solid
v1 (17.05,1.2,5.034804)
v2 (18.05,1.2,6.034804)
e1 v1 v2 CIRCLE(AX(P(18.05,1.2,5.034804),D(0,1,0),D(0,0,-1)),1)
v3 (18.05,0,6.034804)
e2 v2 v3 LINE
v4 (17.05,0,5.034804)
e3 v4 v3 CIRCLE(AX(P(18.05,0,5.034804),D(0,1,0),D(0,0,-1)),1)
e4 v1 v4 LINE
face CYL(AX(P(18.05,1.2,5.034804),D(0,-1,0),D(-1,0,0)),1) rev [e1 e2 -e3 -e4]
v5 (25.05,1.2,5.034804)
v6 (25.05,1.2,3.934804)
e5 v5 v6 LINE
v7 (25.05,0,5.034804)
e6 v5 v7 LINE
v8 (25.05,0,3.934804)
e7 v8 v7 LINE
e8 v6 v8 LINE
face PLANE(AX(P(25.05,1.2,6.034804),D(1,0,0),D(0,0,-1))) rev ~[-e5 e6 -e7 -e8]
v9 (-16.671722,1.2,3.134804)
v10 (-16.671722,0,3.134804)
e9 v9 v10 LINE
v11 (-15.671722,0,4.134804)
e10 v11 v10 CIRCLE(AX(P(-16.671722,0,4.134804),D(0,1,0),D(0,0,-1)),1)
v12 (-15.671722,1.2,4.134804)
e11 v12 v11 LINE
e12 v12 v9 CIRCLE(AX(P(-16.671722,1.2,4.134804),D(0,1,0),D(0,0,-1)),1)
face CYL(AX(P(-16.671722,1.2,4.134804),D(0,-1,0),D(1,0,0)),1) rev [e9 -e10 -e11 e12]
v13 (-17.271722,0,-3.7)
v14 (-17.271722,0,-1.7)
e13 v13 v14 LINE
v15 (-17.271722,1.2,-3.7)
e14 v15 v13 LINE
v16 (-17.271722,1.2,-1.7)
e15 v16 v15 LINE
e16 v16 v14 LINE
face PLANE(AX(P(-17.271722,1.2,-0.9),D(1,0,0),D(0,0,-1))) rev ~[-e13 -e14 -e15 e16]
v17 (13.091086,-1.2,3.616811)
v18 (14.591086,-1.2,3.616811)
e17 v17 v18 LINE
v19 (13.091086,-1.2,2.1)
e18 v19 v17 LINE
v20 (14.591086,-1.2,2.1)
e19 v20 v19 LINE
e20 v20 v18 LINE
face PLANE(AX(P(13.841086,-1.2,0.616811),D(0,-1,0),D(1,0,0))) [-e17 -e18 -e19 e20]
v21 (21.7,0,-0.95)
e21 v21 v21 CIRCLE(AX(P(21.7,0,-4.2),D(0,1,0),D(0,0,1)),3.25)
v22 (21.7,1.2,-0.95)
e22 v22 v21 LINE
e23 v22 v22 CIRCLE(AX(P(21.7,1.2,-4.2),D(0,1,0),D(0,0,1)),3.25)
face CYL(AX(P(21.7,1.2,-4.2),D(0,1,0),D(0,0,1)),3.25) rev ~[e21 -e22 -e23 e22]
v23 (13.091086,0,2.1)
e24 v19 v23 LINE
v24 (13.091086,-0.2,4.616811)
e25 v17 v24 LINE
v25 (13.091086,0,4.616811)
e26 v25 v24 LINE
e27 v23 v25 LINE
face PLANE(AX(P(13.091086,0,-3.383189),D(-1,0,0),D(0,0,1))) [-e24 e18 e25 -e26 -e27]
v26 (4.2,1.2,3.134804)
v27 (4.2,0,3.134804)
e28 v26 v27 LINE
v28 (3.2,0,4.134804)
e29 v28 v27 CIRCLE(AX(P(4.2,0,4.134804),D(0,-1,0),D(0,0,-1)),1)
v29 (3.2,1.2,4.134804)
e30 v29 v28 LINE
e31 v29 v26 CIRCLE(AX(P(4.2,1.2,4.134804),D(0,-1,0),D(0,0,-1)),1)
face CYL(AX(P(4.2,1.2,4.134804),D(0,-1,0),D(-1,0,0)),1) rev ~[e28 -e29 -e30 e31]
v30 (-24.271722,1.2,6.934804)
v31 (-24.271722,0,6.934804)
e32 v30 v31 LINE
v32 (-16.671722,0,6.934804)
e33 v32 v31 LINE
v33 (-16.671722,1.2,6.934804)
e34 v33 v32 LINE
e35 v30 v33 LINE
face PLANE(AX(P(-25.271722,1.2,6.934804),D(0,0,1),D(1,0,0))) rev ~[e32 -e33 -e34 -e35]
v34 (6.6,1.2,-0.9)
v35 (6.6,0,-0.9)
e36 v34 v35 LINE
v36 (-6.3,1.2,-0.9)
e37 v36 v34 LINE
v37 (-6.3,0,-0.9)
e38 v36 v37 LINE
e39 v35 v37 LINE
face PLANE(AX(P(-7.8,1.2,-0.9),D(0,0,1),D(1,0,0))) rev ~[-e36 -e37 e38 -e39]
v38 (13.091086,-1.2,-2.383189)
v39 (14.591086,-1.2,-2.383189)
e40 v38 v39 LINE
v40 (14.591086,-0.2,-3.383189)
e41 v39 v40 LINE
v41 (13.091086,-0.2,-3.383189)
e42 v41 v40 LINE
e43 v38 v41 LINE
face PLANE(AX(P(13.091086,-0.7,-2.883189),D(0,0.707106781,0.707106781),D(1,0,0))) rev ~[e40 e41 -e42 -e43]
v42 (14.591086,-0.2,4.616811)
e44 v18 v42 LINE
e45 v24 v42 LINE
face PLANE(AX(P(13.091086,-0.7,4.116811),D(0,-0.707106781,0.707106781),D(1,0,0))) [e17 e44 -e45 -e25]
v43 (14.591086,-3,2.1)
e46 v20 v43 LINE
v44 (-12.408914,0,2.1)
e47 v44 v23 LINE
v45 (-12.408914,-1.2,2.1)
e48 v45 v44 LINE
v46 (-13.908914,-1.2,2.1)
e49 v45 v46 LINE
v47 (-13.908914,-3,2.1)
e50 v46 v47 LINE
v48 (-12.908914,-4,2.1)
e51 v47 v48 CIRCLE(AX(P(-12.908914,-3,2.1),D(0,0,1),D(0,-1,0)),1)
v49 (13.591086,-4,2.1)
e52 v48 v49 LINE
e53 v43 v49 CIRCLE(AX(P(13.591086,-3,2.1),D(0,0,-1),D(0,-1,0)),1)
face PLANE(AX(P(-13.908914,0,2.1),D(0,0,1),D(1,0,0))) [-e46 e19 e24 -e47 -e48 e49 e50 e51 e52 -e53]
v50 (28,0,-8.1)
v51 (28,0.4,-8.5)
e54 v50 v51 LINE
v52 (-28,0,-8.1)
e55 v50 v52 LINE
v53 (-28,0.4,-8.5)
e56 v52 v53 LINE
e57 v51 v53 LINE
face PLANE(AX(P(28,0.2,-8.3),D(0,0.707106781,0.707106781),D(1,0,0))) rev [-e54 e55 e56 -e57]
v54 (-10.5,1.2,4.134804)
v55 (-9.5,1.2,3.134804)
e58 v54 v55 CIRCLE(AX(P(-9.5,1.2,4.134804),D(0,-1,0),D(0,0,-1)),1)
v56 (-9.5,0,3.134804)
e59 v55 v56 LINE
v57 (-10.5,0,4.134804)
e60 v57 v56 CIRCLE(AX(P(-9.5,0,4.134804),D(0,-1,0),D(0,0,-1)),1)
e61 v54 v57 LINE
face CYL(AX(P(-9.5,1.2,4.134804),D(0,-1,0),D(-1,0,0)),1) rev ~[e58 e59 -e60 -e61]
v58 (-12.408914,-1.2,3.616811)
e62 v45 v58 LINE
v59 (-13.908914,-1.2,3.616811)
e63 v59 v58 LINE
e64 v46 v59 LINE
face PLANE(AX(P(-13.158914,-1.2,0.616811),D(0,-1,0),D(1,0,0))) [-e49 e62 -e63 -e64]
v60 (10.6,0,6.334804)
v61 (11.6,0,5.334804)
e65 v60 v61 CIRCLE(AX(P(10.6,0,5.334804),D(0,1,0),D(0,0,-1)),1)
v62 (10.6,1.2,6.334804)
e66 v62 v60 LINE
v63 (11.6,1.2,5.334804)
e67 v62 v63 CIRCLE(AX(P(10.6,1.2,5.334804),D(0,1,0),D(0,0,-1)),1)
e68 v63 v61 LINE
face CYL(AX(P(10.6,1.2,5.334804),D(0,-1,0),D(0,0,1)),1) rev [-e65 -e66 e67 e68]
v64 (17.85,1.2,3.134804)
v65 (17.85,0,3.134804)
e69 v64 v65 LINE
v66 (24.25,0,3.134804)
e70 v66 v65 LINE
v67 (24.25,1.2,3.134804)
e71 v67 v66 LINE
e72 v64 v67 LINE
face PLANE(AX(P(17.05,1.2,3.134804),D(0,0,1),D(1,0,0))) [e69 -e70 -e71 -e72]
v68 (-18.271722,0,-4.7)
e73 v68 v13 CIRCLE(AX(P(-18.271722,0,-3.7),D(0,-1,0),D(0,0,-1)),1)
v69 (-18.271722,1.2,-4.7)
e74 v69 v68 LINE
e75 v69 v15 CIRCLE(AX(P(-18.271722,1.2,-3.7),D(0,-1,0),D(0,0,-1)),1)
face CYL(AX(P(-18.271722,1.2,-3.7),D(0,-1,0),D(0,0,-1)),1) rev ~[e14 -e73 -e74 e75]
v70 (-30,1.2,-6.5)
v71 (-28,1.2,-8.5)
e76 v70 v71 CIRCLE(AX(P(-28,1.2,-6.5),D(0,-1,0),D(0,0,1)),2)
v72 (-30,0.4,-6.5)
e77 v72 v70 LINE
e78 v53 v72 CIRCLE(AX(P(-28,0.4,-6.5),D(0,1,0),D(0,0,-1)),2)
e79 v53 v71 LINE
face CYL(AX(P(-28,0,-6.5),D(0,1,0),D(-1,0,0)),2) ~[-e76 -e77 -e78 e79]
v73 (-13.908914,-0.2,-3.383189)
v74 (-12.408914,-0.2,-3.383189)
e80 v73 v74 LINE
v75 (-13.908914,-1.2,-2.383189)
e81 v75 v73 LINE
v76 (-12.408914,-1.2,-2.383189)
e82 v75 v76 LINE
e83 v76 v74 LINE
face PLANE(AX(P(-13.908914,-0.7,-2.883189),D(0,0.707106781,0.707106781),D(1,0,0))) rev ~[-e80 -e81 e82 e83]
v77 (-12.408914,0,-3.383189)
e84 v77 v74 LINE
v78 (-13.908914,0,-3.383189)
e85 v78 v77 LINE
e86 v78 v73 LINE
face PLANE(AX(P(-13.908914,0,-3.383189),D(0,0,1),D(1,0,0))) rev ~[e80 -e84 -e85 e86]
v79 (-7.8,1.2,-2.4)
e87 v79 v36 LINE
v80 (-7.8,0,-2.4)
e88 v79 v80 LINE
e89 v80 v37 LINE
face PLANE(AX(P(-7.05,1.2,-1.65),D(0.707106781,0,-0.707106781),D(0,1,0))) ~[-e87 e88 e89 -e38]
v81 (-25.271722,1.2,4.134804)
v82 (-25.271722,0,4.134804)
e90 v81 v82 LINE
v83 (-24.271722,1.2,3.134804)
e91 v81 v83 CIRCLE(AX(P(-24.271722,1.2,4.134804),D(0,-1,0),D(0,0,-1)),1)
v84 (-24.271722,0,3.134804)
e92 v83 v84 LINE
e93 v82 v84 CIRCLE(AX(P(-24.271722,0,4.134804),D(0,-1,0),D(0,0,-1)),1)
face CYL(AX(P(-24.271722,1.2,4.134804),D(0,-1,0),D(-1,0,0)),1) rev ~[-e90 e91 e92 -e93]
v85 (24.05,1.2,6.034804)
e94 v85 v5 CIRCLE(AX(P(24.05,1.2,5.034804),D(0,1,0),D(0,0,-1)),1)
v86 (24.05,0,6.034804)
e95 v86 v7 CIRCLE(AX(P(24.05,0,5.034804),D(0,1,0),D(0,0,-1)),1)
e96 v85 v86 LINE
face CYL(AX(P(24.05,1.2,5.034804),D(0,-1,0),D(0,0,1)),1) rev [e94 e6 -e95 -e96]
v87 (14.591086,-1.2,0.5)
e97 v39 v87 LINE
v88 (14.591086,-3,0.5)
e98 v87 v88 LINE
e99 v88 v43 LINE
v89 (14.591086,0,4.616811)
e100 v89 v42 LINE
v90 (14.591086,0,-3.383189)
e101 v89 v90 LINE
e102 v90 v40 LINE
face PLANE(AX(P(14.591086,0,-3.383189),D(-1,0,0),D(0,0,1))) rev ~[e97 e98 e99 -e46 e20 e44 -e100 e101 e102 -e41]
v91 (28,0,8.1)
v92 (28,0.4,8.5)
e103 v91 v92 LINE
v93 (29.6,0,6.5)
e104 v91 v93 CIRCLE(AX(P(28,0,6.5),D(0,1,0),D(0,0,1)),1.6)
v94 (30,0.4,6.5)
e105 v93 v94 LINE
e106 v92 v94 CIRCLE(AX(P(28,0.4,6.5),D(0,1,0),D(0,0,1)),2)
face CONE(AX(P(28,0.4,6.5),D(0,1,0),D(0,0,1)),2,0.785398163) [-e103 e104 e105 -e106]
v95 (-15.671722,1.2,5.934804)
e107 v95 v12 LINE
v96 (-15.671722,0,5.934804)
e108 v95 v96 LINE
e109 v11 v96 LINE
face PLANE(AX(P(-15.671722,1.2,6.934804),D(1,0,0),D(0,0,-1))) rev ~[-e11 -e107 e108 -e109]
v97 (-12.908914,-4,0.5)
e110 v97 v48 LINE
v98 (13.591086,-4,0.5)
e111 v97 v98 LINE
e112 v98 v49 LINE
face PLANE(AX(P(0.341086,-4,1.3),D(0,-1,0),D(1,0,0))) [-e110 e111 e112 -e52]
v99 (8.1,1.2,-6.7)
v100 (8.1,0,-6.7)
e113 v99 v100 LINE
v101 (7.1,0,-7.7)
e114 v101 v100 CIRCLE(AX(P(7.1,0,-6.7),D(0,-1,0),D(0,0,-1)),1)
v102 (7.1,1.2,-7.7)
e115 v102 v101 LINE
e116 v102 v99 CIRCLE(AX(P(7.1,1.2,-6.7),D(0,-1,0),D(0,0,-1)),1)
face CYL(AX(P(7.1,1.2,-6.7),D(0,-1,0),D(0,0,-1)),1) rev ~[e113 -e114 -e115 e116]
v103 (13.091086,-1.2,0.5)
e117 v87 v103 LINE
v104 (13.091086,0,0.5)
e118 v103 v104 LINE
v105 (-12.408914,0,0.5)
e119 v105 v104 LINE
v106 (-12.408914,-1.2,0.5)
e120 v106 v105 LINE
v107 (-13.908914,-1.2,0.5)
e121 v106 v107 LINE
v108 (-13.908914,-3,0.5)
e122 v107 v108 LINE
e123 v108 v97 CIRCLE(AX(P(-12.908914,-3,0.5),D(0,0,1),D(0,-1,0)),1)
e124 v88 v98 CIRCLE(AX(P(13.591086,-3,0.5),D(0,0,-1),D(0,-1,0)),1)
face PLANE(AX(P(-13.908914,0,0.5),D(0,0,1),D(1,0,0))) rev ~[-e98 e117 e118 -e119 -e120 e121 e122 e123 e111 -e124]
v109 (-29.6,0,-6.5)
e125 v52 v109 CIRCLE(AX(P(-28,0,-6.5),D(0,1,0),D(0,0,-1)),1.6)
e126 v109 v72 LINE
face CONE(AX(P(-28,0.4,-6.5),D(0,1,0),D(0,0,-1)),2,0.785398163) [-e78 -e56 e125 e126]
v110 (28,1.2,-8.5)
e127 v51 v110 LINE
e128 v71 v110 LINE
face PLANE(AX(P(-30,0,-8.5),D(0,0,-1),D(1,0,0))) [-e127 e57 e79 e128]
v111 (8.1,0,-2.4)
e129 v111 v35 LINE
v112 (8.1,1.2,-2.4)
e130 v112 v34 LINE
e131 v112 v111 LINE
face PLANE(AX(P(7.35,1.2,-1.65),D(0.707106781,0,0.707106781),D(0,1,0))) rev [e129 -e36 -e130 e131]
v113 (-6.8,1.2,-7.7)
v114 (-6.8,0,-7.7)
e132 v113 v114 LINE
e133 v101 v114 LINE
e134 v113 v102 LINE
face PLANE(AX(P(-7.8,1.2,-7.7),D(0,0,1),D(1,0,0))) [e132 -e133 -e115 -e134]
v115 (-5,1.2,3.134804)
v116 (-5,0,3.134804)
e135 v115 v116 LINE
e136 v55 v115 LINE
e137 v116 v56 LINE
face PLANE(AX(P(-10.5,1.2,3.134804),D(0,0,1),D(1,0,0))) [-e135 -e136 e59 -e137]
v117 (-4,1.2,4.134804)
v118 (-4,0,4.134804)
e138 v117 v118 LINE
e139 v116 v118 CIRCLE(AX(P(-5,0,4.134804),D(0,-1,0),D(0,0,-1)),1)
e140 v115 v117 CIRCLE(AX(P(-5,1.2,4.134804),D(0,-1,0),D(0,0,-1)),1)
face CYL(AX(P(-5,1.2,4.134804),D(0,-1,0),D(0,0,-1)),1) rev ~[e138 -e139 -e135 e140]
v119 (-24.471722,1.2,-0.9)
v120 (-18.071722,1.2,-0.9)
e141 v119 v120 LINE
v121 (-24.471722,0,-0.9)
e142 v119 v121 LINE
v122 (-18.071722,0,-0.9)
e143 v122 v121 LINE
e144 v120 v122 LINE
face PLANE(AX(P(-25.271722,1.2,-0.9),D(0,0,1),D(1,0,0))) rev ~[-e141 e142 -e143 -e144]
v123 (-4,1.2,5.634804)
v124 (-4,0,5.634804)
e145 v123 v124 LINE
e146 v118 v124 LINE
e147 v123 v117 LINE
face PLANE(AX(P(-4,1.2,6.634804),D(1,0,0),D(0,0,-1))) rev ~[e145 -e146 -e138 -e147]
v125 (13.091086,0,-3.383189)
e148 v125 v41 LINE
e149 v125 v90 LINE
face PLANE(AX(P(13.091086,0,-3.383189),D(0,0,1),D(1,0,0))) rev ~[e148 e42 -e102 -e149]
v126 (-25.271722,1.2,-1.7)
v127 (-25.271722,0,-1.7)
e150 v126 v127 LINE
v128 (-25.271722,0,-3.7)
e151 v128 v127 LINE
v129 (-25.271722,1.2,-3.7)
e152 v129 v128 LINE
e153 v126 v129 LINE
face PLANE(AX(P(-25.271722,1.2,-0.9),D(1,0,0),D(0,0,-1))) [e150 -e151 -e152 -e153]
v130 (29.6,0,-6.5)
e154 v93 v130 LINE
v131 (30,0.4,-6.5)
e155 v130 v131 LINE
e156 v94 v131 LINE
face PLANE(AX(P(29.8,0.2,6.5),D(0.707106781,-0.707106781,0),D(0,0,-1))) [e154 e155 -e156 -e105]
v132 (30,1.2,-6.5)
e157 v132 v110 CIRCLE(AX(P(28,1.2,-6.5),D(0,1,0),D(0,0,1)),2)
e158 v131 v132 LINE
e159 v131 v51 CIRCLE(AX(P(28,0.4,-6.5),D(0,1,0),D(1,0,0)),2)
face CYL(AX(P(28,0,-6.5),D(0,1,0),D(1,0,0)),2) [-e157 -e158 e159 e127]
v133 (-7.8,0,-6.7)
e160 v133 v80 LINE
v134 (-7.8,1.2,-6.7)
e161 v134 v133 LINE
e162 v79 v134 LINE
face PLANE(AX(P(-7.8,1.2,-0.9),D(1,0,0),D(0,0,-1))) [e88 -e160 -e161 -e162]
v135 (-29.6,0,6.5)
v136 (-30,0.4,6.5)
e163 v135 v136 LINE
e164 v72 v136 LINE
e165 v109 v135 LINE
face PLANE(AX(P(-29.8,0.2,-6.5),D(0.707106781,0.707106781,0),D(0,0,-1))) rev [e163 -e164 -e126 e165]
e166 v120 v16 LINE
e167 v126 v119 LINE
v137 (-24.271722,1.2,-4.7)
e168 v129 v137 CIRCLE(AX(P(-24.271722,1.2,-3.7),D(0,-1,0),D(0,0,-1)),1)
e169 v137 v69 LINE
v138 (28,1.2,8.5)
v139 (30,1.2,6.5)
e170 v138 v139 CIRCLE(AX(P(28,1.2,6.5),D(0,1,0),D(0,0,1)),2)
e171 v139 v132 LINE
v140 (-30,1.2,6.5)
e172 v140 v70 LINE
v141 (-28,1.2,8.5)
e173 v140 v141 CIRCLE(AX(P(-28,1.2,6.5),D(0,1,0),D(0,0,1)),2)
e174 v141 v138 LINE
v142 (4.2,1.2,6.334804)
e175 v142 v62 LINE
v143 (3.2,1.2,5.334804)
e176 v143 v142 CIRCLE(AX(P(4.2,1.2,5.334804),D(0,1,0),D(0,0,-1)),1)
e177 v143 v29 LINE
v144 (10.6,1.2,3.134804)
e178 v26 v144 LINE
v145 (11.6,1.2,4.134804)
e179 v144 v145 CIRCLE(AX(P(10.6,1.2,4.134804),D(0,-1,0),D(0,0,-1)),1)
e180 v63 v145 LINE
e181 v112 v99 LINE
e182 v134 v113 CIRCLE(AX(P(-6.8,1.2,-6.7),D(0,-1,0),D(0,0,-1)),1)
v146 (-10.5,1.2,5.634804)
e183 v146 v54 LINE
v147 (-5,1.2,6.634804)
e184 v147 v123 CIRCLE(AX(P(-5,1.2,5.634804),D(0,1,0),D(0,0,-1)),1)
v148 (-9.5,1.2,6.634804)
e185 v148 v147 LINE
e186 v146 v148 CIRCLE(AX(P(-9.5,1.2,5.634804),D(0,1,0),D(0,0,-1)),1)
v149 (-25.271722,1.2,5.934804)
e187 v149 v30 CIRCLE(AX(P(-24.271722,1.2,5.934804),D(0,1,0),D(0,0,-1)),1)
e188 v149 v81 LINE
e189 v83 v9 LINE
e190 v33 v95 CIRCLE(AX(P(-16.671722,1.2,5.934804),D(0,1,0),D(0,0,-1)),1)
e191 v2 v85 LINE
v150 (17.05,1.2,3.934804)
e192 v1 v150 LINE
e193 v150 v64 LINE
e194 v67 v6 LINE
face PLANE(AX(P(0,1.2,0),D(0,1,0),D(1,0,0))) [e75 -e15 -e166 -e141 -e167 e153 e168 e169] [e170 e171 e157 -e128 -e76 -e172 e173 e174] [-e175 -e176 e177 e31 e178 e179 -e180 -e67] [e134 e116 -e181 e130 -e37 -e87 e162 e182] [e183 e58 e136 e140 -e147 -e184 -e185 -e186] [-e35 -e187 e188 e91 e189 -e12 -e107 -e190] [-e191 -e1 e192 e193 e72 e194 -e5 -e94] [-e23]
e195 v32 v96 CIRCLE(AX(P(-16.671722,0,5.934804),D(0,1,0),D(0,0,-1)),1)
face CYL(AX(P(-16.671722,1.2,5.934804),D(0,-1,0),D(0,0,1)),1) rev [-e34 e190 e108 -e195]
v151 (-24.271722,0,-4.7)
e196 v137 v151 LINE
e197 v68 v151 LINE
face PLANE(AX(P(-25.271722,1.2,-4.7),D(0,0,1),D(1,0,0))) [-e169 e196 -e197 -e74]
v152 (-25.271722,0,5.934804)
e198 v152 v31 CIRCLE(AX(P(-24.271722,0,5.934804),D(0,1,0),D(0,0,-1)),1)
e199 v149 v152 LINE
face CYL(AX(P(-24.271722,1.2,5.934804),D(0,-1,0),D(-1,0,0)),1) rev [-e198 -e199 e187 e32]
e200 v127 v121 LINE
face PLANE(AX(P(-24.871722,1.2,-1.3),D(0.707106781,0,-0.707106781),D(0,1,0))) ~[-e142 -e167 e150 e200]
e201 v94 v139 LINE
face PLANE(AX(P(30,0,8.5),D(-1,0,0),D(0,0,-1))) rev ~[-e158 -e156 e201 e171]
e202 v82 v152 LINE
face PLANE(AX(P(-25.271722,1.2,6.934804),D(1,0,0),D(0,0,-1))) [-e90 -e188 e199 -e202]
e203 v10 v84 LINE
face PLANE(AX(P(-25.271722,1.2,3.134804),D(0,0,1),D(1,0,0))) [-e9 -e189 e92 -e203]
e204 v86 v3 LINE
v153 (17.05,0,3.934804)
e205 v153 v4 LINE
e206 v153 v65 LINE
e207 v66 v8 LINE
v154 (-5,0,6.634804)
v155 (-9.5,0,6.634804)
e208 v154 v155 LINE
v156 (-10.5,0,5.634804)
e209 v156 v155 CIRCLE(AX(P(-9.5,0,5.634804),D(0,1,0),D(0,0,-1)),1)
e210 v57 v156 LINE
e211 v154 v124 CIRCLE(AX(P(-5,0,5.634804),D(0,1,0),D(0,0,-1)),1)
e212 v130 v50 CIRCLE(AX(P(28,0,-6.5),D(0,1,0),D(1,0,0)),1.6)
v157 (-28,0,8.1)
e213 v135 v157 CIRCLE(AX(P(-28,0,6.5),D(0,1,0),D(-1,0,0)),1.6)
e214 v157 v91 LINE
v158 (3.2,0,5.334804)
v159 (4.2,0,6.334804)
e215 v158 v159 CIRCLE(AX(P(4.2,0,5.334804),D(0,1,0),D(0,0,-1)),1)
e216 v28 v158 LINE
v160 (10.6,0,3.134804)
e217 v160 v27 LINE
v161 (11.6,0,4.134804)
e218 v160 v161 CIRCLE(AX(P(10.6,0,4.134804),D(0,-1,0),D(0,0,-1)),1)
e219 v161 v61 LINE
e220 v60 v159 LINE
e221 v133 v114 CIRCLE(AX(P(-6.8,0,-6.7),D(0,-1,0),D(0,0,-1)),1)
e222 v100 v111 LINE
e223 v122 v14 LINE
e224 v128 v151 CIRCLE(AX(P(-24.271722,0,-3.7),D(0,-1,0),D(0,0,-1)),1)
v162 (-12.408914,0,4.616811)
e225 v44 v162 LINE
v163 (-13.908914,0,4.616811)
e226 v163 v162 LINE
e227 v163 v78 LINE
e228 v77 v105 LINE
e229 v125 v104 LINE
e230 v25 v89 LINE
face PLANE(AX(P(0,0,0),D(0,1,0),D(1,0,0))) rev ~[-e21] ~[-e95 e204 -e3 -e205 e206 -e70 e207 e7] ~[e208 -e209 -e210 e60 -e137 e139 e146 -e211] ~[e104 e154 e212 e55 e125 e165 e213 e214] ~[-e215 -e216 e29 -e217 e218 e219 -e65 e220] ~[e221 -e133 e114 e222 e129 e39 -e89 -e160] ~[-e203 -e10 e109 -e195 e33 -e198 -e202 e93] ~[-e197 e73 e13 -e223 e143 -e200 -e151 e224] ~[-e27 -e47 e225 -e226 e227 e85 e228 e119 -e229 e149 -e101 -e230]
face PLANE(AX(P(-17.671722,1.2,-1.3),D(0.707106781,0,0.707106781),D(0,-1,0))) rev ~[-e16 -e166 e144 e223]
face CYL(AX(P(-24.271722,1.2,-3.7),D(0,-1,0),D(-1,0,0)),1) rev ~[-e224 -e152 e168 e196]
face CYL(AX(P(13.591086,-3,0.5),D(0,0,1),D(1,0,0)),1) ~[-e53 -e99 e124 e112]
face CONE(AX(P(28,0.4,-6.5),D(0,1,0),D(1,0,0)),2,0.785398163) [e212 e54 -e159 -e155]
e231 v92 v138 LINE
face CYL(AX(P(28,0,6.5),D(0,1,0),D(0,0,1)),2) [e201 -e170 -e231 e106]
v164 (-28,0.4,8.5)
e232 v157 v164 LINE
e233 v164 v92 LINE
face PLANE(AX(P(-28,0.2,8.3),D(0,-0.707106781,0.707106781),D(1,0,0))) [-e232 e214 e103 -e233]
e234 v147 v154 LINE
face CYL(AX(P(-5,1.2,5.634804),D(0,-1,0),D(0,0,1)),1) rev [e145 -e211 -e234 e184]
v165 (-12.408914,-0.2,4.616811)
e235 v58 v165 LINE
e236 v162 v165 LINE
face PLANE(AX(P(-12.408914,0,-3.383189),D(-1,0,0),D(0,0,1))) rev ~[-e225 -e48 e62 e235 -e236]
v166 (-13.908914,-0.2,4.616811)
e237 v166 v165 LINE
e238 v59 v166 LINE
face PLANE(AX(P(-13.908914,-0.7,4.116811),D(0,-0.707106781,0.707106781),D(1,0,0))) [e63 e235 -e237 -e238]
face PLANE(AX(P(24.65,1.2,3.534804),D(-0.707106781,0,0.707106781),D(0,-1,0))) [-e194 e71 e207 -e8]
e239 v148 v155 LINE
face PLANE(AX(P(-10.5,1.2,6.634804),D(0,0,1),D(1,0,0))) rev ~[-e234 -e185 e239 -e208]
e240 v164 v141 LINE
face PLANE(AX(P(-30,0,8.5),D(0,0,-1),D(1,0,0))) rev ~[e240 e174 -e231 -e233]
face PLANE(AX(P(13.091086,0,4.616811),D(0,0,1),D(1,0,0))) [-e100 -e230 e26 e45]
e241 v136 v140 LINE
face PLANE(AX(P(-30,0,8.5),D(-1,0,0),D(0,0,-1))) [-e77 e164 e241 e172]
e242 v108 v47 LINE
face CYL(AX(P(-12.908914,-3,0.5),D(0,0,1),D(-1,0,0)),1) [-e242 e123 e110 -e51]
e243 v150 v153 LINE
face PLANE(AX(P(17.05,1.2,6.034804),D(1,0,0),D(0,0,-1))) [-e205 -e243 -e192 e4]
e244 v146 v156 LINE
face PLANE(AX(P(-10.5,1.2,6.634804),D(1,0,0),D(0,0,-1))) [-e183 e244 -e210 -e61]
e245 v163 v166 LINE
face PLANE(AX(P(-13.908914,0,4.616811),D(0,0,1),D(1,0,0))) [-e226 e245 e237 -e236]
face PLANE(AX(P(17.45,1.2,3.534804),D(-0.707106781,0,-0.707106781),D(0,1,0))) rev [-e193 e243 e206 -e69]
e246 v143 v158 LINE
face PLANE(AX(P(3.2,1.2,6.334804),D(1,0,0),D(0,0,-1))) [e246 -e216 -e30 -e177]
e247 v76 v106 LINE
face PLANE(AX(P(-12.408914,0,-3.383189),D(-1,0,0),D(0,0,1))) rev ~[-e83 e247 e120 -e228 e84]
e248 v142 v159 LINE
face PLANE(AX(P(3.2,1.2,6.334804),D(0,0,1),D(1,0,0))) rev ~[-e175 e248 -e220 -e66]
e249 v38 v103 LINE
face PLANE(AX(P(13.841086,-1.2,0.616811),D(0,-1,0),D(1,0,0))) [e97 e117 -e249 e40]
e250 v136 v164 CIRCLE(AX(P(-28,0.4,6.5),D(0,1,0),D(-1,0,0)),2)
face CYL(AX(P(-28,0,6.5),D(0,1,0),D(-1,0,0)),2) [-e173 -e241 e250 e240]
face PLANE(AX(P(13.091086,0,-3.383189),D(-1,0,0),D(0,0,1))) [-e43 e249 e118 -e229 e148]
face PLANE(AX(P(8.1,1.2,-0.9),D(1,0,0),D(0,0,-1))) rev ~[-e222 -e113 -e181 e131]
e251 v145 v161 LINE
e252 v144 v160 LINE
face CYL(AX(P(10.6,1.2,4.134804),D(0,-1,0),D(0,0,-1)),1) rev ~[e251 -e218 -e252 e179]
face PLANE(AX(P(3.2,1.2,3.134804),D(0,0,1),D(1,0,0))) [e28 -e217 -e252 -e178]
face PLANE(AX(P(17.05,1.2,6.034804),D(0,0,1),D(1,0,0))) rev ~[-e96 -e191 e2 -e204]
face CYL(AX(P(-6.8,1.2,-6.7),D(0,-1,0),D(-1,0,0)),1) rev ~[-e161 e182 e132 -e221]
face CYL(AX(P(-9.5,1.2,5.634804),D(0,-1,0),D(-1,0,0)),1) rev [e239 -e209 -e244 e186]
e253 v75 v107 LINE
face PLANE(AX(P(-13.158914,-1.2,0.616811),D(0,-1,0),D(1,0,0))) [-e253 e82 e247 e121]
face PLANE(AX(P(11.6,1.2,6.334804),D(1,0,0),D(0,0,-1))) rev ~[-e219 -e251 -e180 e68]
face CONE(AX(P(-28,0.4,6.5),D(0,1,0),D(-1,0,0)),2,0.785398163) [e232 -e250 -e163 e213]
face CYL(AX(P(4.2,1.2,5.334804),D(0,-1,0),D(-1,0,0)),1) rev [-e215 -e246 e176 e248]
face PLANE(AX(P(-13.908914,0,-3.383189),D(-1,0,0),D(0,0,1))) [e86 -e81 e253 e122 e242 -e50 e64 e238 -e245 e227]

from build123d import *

# Parameters (mm, degrees)
SKETCH_1_W          = 60
SKETCH_1_H          = 17
EXTRUDE_1_DEPTH     = 1.2
CUT_EXTRUDE_1_REACH = 33.204
SKETCH_4_R          = 3.25
SKETCH_4_W          = 8
SKETCH_4_H          = 3.8
SKETCH_4_W_2        = 15.9
SKETCH_4_H_2        = 6.8
SKETCH_4_H_3        = 2.9
SKETCH_4_W_3        = 8.4
SKETCH_4_H_4        = 3.2
SKETCH_4_W_4        = 6.5
SKETCH_4_H_5        = 3.5
SKETCH_4_W_5        = 9.6
FILLET_2_R          = 1
CHAMFER_1_SIZE      = 0.8
SKETCH_5_W          = 1.5
SKETCH_5_H          = 8
EXTRUDE_2_DEPTH     = 1.2
SKETCH_6_W          = 28.5
SKETCH_6_H          = 1.6
EXTRUDE_3_DEPTH     = 4
FILLET_3_R          = 1
CHAMFER_2_SIZE      = 1
FILLET_4_R          = 2
CHAMFER_5_SIZE      = 0.4
CHAMFER_6_SIZE      = 1.5


with BuildPart() as part:
    # 草图1 → 凸台-拉伸1 (new body)
    with BuildSketch(Plane(origin=(0, 0, 0), x_dir=(1, 0, 0), z_dir=(0, 1, 0))):
        Rectangle(SKETCH_1_W, SKETCH_1_H)
    extrude(amount=EXTRUDE_1_DEPTH)

    # 草图4 → 切除-拉伸1 (cut, up to next)
    with BuildSketch(Plane(origin=(0, 1.2, 0), x_dir=(1, 0, 0), z_dir=(0, 1, 0)), mode=Mode.PRIVATE) as cut_extrude_1_sk1:
        with Locations(Location((21.7, 4.2, 0), (0, 0, 270))):
            Circle(SKETCH_4_R)
    cut_extrude_1_tool1 = extrude(cut_extrude_1_sk1.sketch, amount=-CUT_EXTRUDE_1_REACH, mode=Mode.PRIVATE) & part.part
    # 草图4 → 切除-拉伸1 (cut, up to next)
    with BuildSketch(Plane(origin=(0, 1.2, 0), x_dir=(1, 0, 0), z_dir=(0, 1, 0)), mode=Mode.PRIVATE) as cut_extrude_1_sk2:
        with Locations((-21.271722325, 2.8)):
            Rectangle(SKETCH_4_W, SKETCH_4_H)
    cut_extrude_1_tool2 = extrude(cut_extrude_1_sk2.sketch, amount=-CUT_EXTRUDE_1_REACH, mode=Mode.PRIVATE) & part.part
    # 草图4 → 切除-拉伸1 (cut, up to next)
    with BuildSketch(Plane(origin=(0, 1.2, 0), x_dir=(1, 0, 0), z_dir=(0, 1, 0)), mode=Mode.PRIVATE) as cut_extrude_1_sk3:
        with Locations((0.15, 4.3)):
            Rectangle(SKETCH_4_W_2, SKETCH_4_H_2)
    cut_extrude_1_tool3 = extrude(cut_extrude_1_sk3.sketch, amount=-CUT_EXTRUDE_1_REACH, mode=Mode.PRIVATE) & part.part
    # 草图4 → 切除-拉伸1 (cut, up to next)
    with BuildSketch(Plane(origin=(0, 1.2, 0), x_dir=(1, 0, 0), z_dir=(0, 1, 0)), mode=Mode.PRIVATE) as cut_extrude_1_sk4:
        with Locations((21.05, -4.584803861)):
            Rectangle(SKETCH_4_W, SKETCH_4_H_3)
    cut_extrude_1_tool4 = extrude(cut_extrude_1_sk4.sketch, amount=-CUT_EXTRUDE_1_REACH, mode=Mode.PRIVATE) & part.part
    # 草图4 → 切除-拉伸1 (cut, up to next)
    with BuildSketch(Plane(origin=(0, 1.2, 0), x_dir=(1, 0, 0), z_dir=(0, 1, 0)), mode=Mode.PRIVATE) as cut_extrude_1_sk5:
        with Locations((7.4, -4.734803861)):
            Rectangle(SKETCH_4_W_3, SKETCH_4_H_4)
    cut_extrude_1_tool5 = extrude(cut_extrude_1_sk5.sketch, amount=-CUT_EXTRUDE_1_REACH, mode=Mode.PRIVATE) & part.part
    # 草图4 → 切除-拉伸1 (cut, up to next)
    with BuildSketch(Plane(origin=(0, 1.2, 0), x_dir=(1, 0, 0), z_dir=(0, 1, 0)), mode=Mode.PRIVATE) as cut_extrude_1_sk6:
        with Locations((-7.25, -4.884803861)):
            Rectangle(SKETCH_4_W_4, SKETCH_4_H_5)
    cut_extrude_1_tool6 = extrude(cut_extrude_1_sk6.sketch, amount=-CUT_EXTRUDE_1_REACH, mode=Mode.PRIVATE) & part.part
    # 草图4 → 切除-拉伸1 (cut, up to next)
    with BuildSketch(Plane(origin=(0, 1.2, 0), x_dir=(1, 0, 0), z_dir=(0, 1, 0)), mode=Mode.PRIVATE) as cut_extrude_1_sk7:
        with Locations((-20.471722325, -5.034803861)):
            Rectangle(SKETCH_4_W_5, SKETCH_4_H)
    cut_extrude_1_tool7 = extrude(cut_extrude_1_sk7.sketch, amount=-CUT_EXTRUDE_1_REACH, mode=Mode.PRIVATE) & part.part
    add(cut_extrude_1_tool1.solids().sort_by_distance((21.7, 1.2, -4.2))[0], mode=Mode.SUBTRACT)
    add(cut_extrude_1_tool2.solids().sort_by_distance((-21.271722, 1.2, -2.8))[0], mode=Mode.SUBTRACT)
    add(cut_extrude_1_tool3.solids().sort_by_distance((0.15, 1.2, -4.3))[0], mode=Mode.SUBTRACT)
    add(cut_extrude_1_tool4.solids().sort_by_distance((21.05, 1.2, 4.584804))[0], mode=Mode.SUBTRACT)
    add(cut_extrude_1_tool5.solids().sort_by_distance((7.4, 1.2, 4.734804))[0], mode=Mode.SUBTRACT)
    add(cut_extrude_1_tool6.solids().sort_by_distance((-7.25, 1.2, 4.884804))[0], mode=Mode.SUBTRACT)
    add(cut_extrude_1_tool7.solids().sort_by_distance((-20.471722, 1.2, 5.034804))[0], mode=Mode.SUBTRACT)

    # 圆角2
    fillet_2_edges = [part.edges().sort_by_distance(p)[0] for p in [
        (-10.5, 0.6, 6.634803861),
        (-10.5, 0.6, 3.134803861),
        (-4, 0.6, 3.134803861),
        (-4, 0.6, 6.634803861),
        (3.2, 0.6, 6.334803861),
        (3.2, 0.6, 3.134803861),
        (11.6, 0.6, 3.134803861),
        (11.6, 0.6, 6.334803861),
        (17.05, 0.6, 6.034803861),
        (25.05, 0.6, 6.034803861),
        (-7.8, 0.6, -7.7),
        (8.1, 0.6, -7.7),
        (-25.271722325, 0.6, 6.934803861),
        (-25.271722325, 0.6, 3.134803861),
        (-15.671722325, 0.6, 3.134803861),
        (-15.671722325, 0.6, 6.934803861),
        (-25.271722325, 0.6, -4.7),
        (-17.271722325, 0.6, -4.7),
    ]]
    fillet(fillet_2_edges, radius=FILLET_2_R)

    # 倒角1
    chamfer_1_edges = [part.edges().sort_by_distance(p)[0] for p in [
        (17.05, 0.6, 3.134803861),
        (25.05, 0.6, 3.134803861),
        (-25.271722325, 0.6, -0.9),
        (-17.271722325, 0.6, -0.9),
    ]]
    chamfer(chamfer_1_edges, length=CHAMFER_1_SIZE)

    # 草图5 → 凸台-拉伸2 (add)
    with BuildSketch(Plane.XZ):
        with Locations((-13.15891381, 0.61681071)):
            Rectangle(SKETCH_5_W, SKETCH_5_H)
        with Locations((13.84108619, 0.61681071)):
            Rectangle(SKETCH_5_W, SKETCH_5_H)
    extrude(amount=EXTRUDE_2_DEPTH)

    # 草图6 → 凸台-拉伸3 (add)
    with BuildSketch(Plane.XZ):
        with Locations((0.34108619, 1.3)):
            Rectangle(SKETCH_6_W, SKETCH_6_H)
    extrude(amount=EXTRUDE_3_DEPTH)

    # 圆角3
    fillet_3_edges = [part.edges().sort_by_distance(p)[0] for p in [
        (-13.90891381, -4, 1.3),
        (14.59108619, -4, 1.3),
    ]]
    fillet(fillet_3_edges, radius=FILLET_3_R)

    # 倒角2
    chamfer_2_edges = [part.edges().sort_by_distance(p)[0] for p in [
        (-13.15891381, -1.2, -3.38318929),
        (-13.15891381, -1.2, 4.61681071),
        (13.84108619, -1.2, -3.38318929),
        (13.84108619, -1.2, 4.61681071),
    ]]
    chamfer(chamfer_2_edges, length=CHAMFER_2_SIZE)

    # 圆角4
    fillet_4_edges = [part.edges().sort_by_distance(p)[0] for p in [
        (30, 0.6, 8.5),
        (-30, 0.6, 8.5),
        (-30, 0.6, -8.5),
        (30, 0.6, -8.5),
    ]]
    fillet(fillet_4_edges, radius=FILLET_4_R)

    # 倒角5
    chamfer_5_edges = [part.edges().sort_by_distance(p)[0] for p in [
        (30, 0, 0),
        (0, 0, 8.5),
        (-30, 0, 0),
        (0, 0, -8.5),
        (-29.414213562, 0, -7.914213562),
        (-29.414213562, 0, 7.914213562),
        (29.414213562, 0, -7.914213562),
        (29.414213562, 0, 7.914213562),
    ]]
    chamfer(chamfer_5_edges, length=CHAMFER_5_SIZE)

    # 倒角6
    chamfer_6_edges = [part.edges().sort_by_distance(p)[0] for p in [
        (-7.8, 0.6, -0.9),
        (8.1, 0.6, -0.9),
    ]]
    chamfer(chamfer_6_edges, length=CHAMFER_6_SIZE)


solid = part.part
